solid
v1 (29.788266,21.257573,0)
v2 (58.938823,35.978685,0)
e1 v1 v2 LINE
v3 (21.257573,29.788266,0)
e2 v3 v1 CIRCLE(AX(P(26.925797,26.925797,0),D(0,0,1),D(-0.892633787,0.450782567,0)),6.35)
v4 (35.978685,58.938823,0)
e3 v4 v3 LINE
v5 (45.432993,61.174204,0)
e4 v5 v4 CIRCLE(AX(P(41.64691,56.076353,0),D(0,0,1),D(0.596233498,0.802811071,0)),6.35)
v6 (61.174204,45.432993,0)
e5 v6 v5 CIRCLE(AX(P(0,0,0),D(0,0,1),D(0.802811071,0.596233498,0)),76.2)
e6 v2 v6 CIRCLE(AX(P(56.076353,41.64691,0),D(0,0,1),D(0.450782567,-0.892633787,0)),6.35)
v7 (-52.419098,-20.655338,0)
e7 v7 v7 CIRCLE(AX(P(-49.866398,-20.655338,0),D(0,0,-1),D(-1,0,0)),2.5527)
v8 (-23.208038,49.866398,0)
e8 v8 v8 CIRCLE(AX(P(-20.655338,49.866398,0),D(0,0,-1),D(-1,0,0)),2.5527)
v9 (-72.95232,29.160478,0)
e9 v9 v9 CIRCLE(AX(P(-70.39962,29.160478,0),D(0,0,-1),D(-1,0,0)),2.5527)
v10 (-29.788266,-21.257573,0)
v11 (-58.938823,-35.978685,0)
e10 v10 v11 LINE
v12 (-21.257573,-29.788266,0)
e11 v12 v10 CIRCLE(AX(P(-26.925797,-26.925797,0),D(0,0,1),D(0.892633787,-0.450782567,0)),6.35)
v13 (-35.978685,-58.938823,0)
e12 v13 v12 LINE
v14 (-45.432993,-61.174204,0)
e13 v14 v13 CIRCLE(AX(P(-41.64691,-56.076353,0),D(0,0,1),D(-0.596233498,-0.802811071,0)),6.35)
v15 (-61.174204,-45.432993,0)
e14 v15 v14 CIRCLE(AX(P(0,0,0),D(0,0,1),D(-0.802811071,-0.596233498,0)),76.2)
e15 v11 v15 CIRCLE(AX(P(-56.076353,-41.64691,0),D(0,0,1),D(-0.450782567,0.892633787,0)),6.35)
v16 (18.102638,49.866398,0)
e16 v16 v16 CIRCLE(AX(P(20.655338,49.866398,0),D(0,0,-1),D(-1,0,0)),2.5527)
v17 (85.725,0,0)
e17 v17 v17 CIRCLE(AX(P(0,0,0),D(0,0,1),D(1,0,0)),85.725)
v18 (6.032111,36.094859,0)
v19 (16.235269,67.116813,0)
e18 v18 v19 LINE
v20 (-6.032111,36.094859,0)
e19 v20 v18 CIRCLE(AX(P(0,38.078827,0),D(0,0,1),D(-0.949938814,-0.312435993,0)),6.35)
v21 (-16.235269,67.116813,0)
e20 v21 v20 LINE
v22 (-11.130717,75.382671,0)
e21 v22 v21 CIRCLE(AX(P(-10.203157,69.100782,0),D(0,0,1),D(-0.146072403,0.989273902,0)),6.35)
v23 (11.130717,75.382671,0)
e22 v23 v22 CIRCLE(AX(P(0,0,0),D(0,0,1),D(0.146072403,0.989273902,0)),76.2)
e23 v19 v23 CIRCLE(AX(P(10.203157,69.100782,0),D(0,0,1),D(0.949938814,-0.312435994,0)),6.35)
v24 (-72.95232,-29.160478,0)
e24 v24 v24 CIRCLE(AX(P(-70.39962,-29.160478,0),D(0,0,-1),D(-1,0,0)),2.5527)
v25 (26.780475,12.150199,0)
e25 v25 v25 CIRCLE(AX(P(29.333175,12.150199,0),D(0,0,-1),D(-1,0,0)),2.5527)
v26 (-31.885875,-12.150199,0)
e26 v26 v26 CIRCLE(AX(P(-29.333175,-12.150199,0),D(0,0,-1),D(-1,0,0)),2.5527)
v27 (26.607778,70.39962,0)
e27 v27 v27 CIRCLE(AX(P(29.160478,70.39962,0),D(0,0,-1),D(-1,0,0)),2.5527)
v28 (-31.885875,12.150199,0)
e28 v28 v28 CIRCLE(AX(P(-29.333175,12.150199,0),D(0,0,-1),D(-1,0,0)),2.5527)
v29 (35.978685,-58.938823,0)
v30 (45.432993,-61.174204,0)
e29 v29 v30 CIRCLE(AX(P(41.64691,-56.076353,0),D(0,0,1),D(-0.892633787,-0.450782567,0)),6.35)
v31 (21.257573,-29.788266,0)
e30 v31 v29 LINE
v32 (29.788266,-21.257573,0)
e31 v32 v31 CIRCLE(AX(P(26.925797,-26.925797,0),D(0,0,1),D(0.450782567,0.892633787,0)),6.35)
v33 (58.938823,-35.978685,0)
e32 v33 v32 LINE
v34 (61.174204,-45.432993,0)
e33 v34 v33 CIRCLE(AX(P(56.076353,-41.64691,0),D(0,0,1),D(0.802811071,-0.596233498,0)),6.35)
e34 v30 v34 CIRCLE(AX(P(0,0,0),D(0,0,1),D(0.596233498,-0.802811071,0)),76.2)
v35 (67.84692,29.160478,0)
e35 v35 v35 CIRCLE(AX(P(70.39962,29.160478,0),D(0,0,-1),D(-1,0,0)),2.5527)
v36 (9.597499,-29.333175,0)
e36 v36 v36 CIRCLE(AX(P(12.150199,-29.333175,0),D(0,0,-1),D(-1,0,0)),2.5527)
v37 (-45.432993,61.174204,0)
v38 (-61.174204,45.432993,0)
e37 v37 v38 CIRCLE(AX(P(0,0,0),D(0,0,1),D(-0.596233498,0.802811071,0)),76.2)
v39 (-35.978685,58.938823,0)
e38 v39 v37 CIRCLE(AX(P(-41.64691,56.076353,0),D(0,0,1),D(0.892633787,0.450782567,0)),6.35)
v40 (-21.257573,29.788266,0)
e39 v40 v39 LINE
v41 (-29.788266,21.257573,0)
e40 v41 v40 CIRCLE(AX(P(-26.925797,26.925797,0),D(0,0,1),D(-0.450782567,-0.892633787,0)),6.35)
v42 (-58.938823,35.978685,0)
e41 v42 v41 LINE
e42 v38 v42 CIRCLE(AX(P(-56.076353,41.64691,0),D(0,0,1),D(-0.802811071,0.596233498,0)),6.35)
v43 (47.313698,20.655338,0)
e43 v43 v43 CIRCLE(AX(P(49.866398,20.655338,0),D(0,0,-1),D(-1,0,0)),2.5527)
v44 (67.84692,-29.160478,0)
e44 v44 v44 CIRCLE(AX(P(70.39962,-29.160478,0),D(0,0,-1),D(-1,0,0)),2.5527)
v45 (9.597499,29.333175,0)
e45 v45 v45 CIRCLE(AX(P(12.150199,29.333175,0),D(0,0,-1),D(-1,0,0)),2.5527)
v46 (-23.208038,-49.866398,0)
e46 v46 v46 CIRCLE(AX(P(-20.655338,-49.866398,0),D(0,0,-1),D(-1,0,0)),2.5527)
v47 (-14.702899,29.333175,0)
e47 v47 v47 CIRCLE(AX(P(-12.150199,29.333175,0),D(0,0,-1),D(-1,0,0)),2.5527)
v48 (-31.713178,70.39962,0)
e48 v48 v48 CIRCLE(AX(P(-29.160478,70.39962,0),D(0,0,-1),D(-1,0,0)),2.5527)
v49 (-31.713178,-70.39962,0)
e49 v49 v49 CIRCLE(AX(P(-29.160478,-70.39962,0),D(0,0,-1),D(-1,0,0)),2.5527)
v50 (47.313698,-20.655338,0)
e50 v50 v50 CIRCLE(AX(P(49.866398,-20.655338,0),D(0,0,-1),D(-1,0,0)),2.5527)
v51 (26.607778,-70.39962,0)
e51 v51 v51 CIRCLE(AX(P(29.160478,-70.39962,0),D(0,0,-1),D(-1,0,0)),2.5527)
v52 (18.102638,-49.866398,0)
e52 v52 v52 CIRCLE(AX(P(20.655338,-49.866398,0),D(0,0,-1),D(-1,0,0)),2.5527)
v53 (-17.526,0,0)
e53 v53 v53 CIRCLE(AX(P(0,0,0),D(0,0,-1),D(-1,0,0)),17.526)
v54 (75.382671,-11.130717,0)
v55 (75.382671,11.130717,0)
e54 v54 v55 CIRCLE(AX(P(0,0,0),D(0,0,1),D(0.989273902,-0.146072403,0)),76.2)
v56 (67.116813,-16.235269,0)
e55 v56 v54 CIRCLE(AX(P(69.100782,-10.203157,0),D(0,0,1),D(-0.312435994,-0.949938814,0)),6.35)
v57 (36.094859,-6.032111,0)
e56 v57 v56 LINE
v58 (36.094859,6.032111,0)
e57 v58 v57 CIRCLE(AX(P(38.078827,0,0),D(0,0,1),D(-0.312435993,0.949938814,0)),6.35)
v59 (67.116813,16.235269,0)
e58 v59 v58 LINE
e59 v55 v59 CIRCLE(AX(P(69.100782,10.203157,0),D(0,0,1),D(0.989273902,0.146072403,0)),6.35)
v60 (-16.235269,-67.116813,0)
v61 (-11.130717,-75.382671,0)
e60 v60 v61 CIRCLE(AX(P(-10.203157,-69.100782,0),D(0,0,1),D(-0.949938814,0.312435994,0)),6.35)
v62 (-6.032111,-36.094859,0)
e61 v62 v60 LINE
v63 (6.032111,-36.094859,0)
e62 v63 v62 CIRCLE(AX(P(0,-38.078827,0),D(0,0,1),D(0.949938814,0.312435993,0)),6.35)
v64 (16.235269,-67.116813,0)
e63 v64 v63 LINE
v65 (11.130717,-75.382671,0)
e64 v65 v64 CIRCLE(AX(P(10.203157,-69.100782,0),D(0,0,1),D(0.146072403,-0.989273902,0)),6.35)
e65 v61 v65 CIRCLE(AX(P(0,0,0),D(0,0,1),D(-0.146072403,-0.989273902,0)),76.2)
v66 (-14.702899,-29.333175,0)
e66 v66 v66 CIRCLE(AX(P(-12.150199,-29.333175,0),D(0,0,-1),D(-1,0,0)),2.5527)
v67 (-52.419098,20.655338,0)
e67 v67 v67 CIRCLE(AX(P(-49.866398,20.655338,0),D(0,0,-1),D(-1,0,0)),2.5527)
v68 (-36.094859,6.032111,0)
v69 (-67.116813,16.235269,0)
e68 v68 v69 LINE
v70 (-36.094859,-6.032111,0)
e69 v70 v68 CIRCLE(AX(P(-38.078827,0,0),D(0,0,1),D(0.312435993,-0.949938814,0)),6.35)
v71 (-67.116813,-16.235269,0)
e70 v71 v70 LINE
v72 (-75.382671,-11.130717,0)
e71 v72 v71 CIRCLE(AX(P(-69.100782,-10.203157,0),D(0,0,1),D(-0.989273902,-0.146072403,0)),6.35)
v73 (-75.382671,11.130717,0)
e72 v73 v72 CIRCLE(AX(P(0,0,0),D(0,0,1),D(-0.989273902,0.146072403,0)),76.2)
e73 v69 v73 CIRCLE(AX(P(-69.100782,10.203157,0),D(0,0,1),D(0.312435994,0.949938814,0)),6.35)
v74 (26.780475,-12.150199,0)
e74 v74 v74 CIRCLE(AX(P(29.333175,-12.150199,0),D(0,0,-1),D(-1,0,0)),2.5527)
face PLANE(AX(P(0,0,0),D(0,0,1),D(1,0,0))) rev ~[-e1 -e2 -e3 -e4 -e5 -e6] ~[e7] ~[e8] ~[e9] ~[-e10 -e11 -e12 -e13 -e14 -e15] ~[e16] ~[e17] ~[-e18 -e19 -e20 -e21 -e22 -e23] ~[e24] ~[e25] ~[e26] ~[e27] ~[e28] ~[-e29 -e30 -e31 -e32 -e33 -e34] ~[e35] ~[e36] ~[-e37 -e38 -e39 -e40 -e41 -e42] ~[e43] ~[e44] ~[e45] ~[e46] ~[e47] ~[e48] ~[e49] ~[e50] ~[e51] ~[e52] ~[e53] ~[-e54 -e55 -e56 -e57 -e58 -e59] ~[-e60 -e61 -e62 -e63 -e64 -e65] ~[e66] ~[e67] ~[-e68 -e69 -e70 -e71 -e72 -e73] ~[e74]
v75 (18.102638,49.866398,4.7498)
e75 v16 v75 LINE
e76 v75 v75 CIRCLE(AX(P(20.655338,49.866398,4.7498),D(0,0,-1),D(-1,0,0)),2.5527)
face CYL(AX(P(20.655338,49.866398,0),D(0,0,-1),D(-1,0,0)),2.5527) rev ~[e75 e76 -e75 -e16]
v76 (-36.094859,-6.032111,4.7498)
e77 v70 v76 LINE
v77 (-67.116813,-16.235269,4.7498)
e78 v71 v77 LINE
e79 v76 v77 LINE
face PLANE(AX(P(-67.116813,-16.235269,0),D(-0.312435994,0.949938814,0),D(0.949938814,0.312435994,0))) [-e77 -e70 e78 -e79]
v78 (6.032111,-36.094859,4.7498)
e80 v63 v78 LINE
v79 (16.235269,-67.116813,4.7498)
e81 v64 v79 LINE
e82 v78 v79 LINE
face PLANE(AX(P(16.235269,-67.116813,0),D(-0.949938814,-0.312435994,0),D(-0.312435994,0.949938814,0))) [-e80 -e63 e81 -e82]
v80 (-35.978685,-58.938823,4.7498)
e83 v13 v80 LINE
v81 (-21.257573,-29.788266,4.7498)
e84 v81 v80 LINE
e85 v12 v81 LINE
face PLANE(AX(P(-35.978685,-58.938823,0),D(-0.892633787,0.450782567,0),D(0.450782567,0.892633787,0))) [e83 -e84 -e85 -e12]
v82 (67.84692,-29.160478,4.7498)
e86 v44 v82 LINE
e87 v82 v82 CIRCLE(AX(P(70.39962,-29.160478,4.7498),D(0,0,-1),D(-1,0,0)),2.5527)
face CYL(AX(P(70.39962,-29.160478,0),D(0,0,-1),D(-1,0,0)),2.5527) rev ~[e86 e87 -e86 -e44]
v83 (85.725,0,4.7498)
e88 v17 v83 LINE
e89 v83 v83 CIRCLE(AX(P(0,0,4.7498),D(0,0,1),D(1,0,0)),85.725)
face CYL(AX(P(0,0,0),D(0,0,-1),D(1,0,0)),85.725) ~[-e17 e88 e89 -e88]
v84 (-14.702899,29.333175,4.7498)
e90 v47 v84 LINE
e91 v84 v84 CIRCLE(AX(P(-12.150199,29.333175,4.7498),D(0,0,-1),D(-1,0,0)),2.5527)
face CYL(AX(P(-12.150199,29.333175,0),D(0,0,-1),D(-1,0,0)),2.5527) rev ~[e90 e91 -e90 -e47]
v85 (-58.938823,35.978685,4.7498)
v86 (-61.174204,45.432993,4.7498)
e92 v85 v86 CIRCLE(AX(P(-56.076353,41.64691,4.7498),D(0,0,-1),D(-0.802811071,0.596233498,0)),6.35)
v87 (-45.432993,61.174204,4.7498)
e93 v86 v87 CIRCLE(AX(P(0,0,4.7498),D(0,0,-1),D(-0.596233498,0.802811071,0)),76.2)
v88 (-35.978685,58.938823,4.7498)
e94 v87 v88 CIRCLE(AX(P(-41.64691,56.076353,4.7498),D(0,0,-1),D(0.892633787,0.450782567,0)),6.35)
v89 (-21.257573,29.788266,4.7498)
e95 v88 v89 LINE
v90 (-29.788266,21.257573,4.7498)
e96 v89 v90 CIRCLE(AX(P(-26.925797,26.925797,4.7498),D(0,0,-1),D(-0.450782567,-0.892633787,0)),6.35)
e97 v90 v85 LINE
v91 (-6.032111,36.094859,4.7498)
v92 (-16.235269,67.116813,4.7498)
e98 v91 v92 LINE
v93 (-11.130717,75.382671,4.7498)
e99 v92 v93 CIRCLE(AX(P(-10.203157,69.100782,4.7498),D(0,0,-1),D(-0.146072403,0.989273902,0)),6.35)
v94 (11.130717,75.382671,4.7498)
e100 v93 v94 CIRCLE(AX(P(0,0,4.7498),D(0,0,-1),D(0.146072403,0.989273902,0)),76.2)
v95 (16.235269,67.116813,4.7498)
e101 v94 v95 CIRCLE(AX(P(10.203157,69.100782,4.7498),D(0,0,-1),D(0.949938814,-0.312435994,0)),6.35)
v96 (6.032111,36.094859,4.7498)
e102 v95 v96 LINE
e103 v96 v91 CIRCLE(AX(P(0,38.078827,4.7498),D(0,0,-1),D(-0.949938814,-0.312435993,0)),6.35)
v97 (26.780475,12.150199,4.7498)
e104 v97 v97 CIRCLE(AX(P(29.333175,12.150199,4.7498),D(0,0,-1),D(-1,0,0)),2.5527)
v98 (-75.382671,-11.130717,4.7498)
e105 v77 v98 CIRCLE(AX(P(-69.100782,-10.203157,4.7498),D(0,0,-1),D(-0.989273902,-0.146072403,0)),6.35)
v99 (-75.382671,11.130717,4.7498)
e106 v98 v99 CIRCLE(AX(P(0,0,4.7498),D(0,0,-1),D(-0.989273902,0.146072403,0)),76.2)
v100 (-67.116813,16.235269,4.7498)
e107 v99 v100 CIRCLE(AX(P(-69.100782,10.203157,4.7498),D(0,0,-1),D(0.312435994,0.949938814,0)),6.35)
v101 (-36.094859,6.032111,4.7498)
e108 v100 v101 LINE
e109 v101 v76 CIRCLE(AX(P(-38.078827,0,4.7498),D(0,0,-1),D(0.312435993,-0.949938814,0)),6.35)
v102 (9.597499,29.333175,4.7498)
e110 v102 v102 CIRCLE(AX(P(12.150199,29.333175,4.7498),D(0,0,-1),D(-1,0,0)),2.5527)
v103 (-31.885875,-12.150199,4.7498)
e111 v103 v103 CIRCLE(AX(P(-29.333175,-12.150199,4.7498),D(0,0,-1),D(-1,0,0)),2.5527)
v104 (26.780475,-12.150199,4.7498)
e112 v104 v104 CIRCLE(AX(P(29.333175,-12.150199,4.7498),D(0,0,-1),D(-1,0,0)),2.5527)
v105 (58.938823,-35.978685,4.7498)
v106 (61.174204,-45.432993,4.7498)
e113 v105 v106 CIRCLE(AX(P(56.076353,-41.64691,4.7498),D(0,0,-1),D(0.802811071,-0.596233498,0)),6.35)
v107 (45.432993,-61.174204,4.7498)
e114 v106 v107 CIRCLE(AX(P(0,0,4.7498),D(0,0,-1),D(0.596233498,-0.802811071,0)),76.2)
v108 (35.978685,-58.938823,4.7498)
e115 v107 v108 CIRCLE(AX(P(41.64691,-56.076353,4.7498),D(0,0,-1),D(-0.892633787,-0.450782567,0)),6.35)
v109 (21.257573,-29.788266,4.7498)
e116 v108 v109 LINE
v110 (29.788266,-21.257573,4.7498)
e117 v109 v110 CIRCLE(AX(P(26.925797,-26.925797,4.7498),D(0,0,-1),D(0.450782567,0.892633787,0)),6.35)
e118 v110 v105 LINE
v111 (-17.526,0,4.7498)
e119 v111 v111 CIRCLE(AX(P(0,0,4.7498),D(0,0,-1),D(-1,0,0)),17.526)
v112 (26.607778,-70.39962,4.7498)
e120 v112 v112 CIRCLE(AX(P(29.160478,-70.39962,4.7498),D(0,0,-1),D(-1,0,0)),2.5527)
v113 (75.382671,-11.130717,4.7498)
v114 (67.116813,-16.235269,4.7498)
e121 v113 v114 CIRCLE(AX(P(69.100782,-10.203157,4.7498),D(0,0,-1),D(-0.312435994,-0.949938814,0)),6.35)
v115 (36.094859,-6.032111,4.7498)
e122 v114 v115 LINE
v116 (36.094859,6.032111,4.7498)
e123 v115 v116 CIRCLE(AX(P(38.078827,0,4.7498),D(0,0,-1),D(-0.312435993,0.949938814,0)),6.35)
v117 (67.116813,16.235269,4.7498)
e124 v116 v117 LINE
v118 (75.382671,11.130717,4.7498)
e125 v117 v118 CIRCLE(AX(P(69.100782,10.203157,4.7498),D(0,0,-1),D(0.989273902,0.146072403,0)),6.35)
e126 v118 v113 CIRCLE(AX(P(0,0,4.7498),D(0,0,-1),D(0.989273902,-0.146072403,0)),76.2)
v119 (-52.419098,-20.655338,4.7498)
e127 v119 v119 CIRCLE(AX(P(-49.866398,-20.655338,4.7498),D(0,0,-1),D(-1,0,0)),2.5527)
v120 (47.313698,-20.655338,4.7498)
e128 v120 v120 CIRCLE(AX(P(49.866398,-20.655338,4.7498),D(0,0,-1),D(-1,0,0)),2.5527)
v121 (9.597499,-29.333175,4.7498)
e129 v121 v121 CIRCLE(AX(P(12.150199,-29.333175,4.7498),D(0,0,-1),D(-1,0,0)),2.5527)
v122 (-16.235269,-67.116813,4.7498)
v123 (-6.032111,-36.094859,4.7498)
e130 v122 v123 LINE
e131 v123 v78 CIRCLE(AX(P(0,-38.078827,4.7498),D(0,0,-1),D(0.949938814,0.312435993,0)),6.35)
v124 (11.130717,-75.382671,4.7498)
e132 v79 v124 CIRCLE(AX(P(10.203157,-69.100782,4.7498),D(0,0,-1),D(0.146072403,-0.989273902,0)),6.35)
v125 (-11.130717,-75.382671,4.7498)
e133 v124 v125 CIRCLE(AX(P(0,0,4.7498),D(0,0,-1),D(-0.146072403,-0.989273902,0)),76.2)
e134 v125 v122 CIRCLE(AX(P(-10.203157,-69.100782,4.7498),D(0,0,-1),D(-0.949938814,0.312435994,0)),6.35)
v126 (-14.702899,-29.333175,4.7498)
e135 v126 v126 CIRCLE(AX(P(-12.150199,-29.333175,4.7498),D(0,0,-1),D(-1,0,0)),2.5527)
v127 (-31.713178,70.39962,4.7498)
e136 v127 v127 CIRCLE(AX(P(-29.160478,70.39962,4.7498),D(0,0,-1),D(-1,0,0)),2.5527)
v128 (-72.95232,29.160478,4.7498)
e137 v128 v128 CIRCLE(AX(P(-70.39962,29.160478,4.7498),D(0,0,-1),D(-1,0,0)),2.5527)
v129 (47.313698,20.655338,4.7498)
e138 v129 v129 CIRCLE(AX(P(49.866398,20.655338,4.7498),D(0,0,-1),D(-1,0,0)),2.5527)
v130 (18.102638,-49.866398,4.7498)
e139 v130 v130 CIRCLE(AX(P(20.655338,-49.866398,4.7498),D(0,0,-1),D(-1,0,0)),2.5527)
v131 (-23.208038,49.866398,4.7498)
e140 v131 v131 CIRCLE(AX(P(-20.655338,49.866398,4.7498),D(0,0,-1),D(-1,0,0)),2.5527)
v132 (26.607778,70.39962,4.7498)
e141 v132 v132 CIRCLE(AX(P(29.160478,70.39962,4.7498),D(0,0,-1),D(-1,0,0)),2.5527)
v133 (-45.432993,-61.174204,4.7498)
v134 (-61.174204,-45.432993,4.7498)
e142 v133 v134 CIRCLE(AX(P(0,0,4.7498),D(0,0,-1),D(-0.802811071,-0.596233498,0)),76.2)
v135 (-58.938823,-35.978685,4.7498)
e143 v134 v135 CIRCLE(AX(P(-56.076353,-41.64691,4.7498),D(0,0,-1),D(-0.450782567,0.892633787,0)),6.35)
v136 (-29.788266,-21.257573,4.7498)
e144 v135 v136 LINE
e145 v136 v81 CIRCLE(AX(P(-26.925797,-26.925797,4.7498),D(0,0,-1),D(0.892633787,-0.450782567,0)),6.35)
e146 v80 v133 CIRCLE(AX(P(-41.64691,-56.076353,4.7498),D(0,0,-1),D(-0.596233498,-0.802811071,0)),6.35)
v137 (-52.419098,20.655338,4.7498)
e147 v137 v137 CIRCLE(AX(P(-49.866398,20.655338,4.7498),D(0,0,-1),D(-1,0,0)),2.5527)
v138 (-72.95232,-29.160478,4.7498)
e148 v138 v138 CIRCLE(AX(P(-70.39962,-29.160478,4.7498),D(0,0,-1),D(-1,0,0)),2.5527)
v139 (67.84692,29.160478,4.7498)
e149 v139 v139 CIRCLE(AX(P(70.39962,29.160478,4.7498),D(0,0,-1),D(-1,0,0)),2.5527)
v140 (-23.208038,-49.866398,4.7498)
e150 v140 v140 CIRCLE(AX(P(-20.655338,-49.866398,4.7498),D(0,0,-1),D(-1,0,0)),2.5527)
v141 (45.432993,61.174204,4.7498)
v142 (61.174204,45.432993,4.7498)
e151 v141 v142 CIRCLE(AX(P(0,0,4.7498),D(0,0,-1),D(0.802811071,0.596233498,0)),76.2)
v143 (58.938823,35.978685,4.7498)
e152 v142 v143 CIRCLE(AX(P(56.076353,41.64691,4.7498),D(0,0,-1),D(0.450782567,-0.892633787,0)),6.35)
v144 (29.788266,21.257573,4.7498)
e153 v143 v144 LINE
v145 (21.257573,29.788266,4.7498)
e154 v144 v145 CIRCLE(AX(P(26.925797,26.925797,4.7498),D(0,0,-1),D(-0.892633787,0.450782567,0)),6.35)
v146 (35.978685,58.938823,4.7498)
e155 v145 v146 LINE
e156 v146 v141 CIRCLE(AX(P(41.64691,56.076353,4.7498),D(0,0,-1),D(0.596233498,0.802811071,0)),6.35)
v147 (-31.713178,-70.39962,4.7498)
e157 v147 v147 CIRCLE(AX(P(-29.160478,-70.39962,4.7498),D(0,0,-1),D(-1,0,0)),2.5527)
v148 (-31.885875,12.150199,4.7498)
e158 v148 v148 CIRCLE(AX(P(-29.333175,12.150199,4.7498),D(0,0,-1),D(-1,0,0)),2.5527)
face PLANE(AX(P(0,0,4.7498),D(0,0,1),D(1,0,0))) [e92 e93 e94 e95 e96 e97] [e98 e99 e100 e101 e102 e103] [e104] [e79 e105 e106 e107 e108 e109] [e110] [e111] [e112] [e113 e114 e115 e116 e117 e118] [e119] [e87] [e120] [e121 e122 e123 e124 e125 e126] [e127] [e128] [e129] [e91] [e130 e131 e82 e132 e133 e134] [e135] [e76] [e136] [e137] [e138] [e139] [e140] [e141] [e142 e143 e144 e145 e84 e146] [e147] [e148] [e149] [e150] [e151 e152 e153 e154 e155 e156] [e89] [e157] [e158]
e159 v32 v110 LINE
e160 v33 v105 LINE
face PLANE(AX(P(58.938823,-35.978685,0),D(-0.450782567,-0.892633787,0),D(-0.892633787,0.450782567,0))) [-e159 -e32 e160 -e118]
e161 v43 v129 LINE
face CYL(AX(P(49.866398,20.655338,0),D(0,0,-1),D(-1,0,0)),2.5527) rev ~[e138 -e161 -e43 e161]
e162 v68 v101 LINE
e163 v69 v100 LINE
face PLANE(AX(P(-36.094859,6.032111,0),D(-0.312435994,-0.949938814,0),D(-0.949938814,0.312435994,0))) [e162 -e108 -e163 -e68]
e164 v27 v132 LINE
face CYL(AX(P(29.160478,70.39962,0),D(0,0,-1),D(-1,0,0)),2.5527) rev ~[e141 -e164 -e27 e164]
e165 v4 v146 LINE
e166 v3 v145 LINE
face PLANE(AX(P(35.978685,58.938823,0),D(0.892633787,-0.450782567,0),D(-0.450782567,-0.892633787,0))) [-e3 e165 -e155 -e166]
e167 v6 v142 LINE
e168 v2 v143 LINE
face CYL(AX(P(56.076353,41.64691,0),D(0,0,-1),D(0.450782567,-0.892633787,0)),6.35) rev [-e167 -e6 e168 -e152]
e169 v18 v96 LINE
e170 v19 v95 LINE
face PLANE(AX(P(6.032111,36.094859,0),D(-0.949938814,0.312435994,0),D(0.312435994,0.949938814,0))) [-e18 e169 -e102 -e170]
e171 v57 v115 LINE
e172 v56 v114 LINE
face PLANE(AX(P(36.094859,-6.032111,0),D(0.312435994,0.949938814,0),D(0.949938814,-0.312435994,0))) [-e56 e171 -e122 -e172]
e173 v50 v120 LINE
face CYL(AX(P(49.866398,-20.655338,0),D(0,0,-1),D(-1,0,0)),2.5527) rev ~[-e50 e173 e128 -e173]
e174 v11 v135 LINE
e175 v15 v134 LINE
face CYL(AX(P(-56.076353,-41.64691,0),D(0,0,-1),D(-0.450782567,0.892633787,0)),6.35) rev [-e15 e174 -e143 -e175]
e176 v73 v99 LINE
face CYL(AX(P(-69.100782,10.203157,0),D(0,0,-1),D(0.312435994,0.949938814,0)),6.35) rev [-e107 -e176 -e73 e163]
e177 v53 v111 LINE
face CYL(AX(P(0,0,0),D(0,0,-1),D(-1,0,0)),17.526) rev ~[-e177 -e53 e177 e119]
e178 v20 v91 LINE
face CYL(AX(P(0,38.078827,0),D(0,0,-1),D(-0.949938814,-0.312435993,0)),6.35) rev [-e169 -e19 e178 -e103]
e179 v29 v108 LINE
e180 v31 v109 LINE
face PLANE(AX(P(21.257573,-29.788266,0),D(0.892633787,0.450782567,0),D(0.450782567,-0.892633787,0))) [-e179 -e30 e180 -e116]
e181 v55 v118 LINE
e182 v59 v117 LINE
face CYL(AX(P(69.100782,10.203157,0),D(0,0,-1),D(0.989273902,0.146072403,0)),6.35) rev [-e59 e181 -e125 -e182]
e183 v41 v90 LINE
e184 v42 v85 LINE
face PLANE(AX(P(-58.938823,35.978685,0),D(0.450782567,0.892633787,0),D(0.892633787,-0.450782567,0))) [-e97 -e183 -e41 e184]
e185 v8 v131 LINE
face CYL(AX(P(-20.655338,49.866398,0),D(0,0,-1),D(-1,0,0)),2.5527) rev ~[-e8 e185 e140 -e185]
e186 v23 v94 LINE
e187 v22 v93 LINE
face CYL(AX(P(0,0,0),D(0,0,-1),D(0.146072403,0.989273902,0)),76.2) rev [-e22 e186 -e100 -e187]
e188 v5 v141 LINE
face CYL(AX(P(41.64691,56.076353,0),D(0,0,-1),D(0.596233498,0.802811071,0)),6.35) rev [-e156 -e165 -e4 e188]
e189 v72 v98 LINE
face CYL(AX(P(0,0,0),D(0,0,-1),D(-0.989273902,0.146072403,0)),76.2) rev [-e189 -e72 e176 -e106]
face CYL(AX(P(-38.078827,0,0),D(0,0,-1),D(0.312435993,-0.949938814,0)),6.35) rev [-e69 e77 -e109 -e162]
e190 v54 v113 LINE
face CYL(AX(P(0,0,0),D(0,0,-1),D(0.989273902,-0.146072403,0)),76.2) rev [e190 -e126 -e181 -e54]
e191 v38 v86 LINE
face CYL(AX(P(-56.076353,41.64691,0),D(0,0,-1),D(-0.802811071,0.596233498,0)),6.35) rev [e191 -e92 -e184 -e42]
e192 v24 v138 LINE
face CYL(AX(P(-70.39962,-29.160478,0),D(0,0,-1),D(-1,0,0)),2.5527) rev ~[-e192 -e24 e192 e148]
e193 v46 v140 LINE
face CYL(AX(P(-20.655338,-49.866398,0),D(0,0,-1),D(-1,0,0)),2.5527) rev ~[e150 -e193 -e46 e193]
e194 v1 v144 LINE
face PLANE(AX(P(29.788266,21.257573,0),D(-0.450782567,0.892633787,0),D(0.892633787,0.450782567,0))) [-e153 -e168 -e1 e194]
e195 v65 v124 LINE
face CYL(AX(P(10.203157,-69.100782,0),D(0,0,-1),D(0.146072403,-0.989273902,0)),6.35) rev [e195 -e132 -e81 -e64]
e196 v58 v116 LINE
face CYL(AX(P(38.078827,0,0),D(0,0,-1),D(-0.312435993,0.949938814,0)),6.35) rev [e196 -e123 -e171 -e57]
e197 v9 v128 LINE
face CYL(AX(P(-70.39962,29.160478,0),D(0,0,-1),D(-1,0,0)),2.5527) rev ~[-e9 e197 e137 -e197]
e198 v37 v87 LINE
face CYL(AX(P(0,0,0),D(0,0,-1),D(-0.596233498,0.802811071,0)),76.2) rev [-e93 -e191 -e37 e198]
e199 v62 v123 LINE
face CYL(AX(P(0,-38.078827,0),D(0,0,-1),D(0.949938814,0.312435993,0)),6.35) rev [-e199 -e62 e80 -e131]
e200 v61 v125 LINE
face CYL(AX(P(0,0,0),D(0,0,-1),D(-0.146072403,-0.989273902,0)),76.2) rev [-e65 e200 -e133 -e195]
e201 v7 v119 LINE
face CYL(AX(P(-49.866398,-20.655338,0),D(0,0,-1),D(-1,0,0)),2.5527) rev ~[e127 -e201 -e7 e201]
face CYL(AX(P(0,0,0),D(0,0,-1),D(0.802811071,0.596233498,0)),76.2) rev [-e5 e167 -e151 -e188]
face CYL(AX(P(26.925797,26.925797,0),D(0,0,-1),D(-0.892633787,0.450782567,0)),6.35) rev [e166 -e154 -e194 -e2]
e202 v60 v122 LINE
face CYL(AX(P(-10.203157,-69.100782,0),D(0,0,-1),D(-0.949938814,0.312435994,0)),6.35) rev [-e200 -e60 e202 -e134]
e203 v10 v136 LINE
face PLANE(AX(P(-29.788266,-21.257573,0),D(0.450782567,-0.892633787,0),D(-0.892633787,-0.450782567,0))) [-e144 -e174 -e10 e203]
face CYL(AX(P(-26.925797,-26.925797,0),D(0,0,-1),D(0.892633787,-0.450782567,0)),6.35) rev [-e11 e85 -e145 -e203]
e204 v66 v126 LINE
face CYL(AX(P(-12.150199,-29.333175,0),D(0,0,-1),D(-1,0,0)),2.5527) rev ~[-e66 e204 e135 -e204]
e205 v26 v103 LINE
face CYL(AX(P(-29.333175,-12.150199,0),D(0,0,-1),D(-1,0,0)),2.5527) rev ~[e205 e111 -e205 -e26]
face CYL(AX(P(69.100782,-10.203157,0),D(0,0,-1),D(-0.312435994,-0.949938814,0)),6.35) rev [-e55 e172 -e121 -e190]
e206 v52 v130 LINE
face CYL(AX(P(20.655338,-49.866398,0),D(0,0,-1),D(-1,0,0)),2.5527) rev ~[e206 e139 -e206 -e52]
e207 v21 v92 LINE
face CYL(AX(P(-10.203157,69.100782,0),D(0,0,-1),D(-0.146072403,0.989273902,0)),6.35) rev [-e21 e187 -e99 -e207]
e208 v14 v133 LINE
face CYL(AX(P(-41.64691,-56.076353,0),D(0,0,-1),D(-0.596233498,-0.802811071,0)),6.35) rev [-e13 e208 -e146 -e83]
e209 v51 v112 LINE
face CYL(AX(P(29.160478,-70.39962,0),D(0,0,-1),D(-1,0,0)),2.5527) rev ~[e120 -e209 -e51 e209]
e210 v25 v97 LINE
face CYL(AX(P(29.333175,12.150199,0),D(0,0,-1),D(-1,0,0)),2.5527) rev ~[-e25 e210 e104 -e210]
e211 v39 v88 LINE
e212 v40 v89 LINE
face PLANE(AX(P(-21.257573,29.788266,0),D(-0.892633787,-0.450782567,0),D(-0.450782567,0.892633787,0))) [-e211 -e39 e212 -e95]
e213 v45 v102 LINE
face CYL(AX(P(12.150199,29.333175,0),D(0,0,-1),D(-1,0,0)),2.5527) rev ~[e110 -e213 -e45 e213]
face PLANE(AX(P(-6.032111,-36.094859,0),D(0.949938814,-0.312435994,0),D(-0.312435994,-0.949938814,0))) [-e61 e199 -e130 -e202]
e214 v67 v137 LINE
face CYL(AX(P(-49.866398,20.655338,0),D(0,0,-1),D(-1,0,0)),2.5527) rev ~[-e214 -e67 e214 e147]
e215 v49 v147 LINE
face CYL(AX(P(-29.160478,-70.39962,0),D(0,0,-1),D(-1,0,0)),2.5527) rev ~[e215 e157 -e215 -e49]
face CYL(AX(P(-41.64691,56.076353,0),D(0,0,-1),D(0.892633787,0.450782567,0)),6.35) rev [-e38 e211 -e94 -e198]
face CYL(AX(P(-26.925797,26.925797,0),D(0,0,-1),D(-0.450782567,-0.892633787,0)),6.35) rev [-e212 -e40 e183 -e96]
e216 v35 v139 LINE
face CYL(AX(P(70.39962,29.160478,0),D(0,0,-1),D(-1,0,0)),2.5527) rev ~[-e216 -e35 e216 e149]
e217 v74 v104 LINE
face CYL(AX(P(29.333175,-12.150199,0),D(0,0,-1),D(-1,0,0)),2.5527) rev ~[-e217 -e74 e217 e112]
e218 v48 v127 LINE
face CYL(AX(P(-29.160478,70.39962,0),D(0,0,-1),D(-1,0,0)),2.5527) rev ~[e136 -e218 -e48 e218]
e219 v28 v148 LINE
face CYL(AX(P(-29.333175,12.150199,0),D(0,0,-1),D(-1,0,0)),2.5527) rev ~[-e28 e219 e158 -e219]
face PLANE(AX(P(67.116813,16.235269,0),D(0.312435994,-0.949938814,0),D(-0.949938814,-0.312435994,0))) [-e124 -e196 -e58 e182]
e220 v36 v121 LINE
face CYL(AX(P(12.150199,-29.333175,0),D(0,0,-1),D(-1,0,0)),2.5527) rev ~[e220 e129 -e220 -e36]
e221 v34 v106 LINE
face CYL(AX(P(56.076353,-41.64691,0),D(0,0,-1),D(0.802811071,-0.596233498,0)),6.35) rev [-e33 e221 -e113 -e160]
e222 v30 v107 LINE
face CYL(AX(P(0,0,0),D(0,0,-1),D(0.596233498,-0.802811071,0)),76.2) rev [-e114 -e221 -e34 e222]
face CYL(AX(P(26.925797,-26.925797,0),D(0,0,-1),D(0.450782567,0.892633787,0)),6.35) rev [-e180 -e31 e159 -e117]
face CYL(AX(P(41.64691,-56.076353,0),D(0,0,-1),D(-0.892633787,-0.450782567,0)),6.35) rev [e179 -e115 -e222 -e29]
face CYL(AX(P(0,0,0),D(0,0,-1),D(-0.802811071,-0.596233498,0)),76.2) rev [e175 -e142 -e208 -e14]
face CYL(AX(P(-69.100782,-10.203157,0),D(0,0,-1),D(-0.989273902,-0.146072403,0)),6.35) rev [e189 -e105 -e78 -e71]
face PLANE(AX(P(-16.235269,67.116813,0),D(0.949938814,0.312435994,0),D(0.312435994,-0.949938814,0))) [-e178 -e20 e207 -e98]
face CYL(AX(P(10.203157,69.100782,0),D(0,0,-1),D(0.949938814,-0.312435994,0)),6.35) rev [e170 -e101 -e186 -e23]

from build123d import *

# Parameters (mm, degrees)
SKETCH1_R           = 85.725
BOSS_EXTRUDE1_DEPTH = 4.7498
SKETCH2_R           = 17.526
SKETCH2_R_2         = 2.5527
CUT_EXTRUDE1_DEPTH  = 122.326468052


with BuildPart() as part:
    # Sketch1 → Boss-Extrude1 (new body)
    with BuildSketch(Plane.XY):
        Circle(SKETCH1_R)
    extrude(amount=BOSS_EXTRUDE1_DEPTH)

    # Sketch2 → Cut-Extrude1 (cut, through all)
    with BuildSketch(Plane(origin=(0, 0, 0), x_dir=(-1, 0, 0), z_dir=(0, 0, -1))):
        Circle(SKETCH2_R)
        with Locations((29.160477546, -70.399620377)):
            Circle(SKETCH2_R_2)
        with Locations((-29.160477546, -70.399620377)):
            Circle(SKETCH2_R_2)
        with Locations((-70.399620377, -29.160477546)):
            Circle(SKETCH2_R_2)
        with Locations((-70.399620377, 29.160477546)):
            Circle(SKETCH2_R_2)
        with Locations((-29.160477546, 70.399620377)):
            Circle(SKETCH2_R_2)
        with Locations((29.160477546, 70.399620377)):
            Circle(SKETCH2_R_2)
        with Locations((70.399620377, 29.160477546)):
            Circle(SKETCH2_R_2)
        with Locations((70.399620377, -29.160477546)):
            Circle(SKETCH2_R_2)
        with Locations((20.655338262, -49.866397767)):
            Circle(SKETCH2_R_2)
        with Locations((12.150198978, -29.333175157)):
            Circle(SKETCH2_R_2)
        with Locations((-20.655338262, -49.866397767)):
            Circle(SKETCH2_R_2)
        with Locations((-12.150198978, -29.333175157)):
            Circle(SKETCH2_R_2)
        with Locations((-49.866397767, -20.655338262)):
            Circle(SKETCH2_R_2)
        with Locations((-29.333175157, -12.150198978)):
            Circle(SKETCH2_R_2)
        with Locations((-49.866397767, 20.655338262)):
            Circle(SKETCH2_R_2)
        with Locations((-29.333175157, 12.150198978)):
            Circle(SKETCH2_R_2)
        with Locations((-20.655338262, 49.866397767)):
            Circle(SKETCH2_R_2)
        with Locations((-12.150198978, 29.333175157)):
            Circle(SKETCH2_R_2)
        with Locations((20.655338262, 49.866397767)):
            Circle(SKETCH2_R_2)
        with Locations((12.150198978, 29.333175157)):
            Circle(SKETCH2_R_2)
        with Locations((49.866397767, 20.655338262)):
            Circle(SKETCH2_R_2)
        with Locations((29.333175157, 12.150198978)):
            Circle(SKETCH2_R_2)
        with Locations((49.866397767, -20.655338262)):
            Circle(SKETCH2_R_2)
        with Locations((29.333175157, -12.150198978)):
            Circle(SKETCH2_R_2)
        with BuildLine():
            Line((-16.235268838, -67.116813488), (-6.032111467, -36.094858891))
            ThreePointArc((-6.032111467, -36.094858891), (0, -31.72882745), (6.032111467, -36.094858891))
            Line((6.032111467, -36.094858891), (16.235268838, -67.116813488))
            ThreePointArc((16.235268838, -67.116813488), (15.605967505, -72.437268621), (11.130717132, -75.382671325))
            ThreePointArc((11.130717132, -75.382671325), (0, -76.2), (-11.130717132, -75.382671325))
            ThreePointArc((-11.130717132, -75.382671325), (-15.605967505, -72.437268621), (-16.235268838, -67.116813488))
        make_face()
        with BuildLine():
            Line((-58.938822639, -35.978685259), (-29.788266411, -21.257572564))
            ThreePointArc((-29.788266411, -21.257572564), (-22.435669049, -22.435669049), (-21.257572564, -29.788266411))
            Line((-21.257572564, -29.788266411), (-35.978685259, -58.938822639))
            ThreePointArc((-35.978685259, -58.938822639), (-40.185798403, -62.255969303), (-45.432992514, -61.174203642))
            ThreePointArc((-45.432992514, -61.174203642), (-53.881536726, -53.881536726), (-61.174203642, -45.432992514))
            ThreePointArc((-61.174203642, -45.432992514), (-62.255969303, -40.185798403), (-58.938822639, -35.978685259))
        make_face()
        with BuildLine():
            Line((-67.116813488, 16.235268838), (-36.094858891, 6.032111467))
            ThreePointArc((-36.094858891, 6.032111467), (-31.72882745, 0), (-36.094858891, -6.032111467))
            Line((-36.094858891, -6.032111467), (-67.116813488, -16.235268838))
            ThreePointArc((-67.116813488, -16.235268838), (-72.437268621, -15.605967505), (-75.382671325, -11.130717132))
            ThreePointArc((-75.382671325, -11.130717132), (-76.2, 0), (-75.382671325, 11.130717132))
            ThreePointArc((-75.382671325, 11.130717132), (-72.437268621, 15.605967505), (-67.116813488, 16.235268838))
        make_face()
        with BuildLine():
            Line((-35.978685259, 58.938822639), (-21.257572564, 29.788266411))
            ThreePointArc((-21.257572564, 29.788266411), (-22.435669049, 22.435669049), (-29.788266411, 21.257572564))
            Line((-29.788266411, 21.257572564), (-58.938822639, 35.978685259))
            ThreePointArc((-58.938822639, 35.978685259), (-62.255969303, 40.185798403), (-61.174203642, 45.432992514))
            ThreePointArc((-61.174203642, 45.432992514), (-53.881536726, 53.881536726), (-45.432992514, 61.174203642))
            ThreePointArc((-45.432992514, 61.174203642), (-40.185798403, 62.255969303), (-35.978685259, 58.938822639))
        make_face()
        with BuildLine():
            Line((16.235268838, 67.116813488), (6.032111467, 36.094858891))
            ThreePointArc((6.032111467, 36.094858891), (0, 31.72882745), (-6.032111467, 36.094858891))
            Line((-6.032111467, 36.094858891), (-16.235268838, 67.116813488))
            ThreePointArc((-16.235268838, 67.116813488), (-15.605967505, 72.437268621), (-11.130717132, 75.382671325))
            ThreePointArc((-11.130717132, 75.382671325), (0, 76.2), (11.130717132, 75.382671325))
            ThreePointArc((11.130717132, 75.382671325), (15.605967505, 72.437268621), (16.235268838, 67.116813488))
        make_face()
        with BuildLine():
            Line((58.938822639, 35.978685259), (29.788266411, 21.257572564))
            ThreePointArc((29.788266411, 21.257572564), (22.435669049, 22.435669049), (21.257572564, 29.788266411))
            Line((21.257572564, 29.788266411), (35.978685259, 58.938822639))
            ThreePointArc((35.978685259, 58.938822639), (40.185798403, 62.255969303), (45.432992514, 61.174203642))
            ThreePointArc((45.432992514, 61.174203642), (53.881536726, 53.881536726), (61.174203642, 45.432992514))
            ThreePointArc((61.174203642, 45.432992514), (62.255969303, 40.185798403), (58.938822639, 35.978685259))
        make_face()
        with BuildLine():
            Line((67.116813488, -16.235268838), (36.094858891, -6.032111467))
            ThreePointArc((36.094858891, -6.032111467), (31.72882745, 0), (36.094858891, 6.032111467))
            Line((36.094858891, 6.032111467), (67.116813488, 16.235268838))
            ThreePointArc((67.116813488, 16.235268838), (72.437268621, 15.605967505), (75.382671325, 11.130717132))
            ThreePointArc((75.382671325, 11.130717132), (76.2, 0), (75.382671325, -11.130717132))
            ThreePointArc((75.382671325, -11.130717132), (72.437268621, -15.605967505), (67.116813488, -16.235268838))
        make_face()
        with BuildLine():
            Line((35.978685259, -58.938822639), (21.257572564, -29.788266411))
            ThreePointArc((21.257572564, -29.788266411), (22.435669049, -22.435669049), (29.788266411, -21.257572564))
            Line((29.788266411, -21.257572564), (58.938822639, -35.978685259))
            ThreePointArc((58.938822639, -35.978685259), (62.255969303, -40.185798403), (61.174203642, -45.432992514))
            ThreePointArc((61.174203642, -45.432992514), (53.881536726, -53.881536726), (45.432992514, -61.174203642))
            ThreePointArc((45.432992514, -61.174203642), (40.185798403, -62.255969303), (35.978685259, -58.938822639))
        make_face()
    extrude(amount=-CUT_EXTRUDE1_DEPTH, mode=Mode.SUBTRACT)


solid = part.part
